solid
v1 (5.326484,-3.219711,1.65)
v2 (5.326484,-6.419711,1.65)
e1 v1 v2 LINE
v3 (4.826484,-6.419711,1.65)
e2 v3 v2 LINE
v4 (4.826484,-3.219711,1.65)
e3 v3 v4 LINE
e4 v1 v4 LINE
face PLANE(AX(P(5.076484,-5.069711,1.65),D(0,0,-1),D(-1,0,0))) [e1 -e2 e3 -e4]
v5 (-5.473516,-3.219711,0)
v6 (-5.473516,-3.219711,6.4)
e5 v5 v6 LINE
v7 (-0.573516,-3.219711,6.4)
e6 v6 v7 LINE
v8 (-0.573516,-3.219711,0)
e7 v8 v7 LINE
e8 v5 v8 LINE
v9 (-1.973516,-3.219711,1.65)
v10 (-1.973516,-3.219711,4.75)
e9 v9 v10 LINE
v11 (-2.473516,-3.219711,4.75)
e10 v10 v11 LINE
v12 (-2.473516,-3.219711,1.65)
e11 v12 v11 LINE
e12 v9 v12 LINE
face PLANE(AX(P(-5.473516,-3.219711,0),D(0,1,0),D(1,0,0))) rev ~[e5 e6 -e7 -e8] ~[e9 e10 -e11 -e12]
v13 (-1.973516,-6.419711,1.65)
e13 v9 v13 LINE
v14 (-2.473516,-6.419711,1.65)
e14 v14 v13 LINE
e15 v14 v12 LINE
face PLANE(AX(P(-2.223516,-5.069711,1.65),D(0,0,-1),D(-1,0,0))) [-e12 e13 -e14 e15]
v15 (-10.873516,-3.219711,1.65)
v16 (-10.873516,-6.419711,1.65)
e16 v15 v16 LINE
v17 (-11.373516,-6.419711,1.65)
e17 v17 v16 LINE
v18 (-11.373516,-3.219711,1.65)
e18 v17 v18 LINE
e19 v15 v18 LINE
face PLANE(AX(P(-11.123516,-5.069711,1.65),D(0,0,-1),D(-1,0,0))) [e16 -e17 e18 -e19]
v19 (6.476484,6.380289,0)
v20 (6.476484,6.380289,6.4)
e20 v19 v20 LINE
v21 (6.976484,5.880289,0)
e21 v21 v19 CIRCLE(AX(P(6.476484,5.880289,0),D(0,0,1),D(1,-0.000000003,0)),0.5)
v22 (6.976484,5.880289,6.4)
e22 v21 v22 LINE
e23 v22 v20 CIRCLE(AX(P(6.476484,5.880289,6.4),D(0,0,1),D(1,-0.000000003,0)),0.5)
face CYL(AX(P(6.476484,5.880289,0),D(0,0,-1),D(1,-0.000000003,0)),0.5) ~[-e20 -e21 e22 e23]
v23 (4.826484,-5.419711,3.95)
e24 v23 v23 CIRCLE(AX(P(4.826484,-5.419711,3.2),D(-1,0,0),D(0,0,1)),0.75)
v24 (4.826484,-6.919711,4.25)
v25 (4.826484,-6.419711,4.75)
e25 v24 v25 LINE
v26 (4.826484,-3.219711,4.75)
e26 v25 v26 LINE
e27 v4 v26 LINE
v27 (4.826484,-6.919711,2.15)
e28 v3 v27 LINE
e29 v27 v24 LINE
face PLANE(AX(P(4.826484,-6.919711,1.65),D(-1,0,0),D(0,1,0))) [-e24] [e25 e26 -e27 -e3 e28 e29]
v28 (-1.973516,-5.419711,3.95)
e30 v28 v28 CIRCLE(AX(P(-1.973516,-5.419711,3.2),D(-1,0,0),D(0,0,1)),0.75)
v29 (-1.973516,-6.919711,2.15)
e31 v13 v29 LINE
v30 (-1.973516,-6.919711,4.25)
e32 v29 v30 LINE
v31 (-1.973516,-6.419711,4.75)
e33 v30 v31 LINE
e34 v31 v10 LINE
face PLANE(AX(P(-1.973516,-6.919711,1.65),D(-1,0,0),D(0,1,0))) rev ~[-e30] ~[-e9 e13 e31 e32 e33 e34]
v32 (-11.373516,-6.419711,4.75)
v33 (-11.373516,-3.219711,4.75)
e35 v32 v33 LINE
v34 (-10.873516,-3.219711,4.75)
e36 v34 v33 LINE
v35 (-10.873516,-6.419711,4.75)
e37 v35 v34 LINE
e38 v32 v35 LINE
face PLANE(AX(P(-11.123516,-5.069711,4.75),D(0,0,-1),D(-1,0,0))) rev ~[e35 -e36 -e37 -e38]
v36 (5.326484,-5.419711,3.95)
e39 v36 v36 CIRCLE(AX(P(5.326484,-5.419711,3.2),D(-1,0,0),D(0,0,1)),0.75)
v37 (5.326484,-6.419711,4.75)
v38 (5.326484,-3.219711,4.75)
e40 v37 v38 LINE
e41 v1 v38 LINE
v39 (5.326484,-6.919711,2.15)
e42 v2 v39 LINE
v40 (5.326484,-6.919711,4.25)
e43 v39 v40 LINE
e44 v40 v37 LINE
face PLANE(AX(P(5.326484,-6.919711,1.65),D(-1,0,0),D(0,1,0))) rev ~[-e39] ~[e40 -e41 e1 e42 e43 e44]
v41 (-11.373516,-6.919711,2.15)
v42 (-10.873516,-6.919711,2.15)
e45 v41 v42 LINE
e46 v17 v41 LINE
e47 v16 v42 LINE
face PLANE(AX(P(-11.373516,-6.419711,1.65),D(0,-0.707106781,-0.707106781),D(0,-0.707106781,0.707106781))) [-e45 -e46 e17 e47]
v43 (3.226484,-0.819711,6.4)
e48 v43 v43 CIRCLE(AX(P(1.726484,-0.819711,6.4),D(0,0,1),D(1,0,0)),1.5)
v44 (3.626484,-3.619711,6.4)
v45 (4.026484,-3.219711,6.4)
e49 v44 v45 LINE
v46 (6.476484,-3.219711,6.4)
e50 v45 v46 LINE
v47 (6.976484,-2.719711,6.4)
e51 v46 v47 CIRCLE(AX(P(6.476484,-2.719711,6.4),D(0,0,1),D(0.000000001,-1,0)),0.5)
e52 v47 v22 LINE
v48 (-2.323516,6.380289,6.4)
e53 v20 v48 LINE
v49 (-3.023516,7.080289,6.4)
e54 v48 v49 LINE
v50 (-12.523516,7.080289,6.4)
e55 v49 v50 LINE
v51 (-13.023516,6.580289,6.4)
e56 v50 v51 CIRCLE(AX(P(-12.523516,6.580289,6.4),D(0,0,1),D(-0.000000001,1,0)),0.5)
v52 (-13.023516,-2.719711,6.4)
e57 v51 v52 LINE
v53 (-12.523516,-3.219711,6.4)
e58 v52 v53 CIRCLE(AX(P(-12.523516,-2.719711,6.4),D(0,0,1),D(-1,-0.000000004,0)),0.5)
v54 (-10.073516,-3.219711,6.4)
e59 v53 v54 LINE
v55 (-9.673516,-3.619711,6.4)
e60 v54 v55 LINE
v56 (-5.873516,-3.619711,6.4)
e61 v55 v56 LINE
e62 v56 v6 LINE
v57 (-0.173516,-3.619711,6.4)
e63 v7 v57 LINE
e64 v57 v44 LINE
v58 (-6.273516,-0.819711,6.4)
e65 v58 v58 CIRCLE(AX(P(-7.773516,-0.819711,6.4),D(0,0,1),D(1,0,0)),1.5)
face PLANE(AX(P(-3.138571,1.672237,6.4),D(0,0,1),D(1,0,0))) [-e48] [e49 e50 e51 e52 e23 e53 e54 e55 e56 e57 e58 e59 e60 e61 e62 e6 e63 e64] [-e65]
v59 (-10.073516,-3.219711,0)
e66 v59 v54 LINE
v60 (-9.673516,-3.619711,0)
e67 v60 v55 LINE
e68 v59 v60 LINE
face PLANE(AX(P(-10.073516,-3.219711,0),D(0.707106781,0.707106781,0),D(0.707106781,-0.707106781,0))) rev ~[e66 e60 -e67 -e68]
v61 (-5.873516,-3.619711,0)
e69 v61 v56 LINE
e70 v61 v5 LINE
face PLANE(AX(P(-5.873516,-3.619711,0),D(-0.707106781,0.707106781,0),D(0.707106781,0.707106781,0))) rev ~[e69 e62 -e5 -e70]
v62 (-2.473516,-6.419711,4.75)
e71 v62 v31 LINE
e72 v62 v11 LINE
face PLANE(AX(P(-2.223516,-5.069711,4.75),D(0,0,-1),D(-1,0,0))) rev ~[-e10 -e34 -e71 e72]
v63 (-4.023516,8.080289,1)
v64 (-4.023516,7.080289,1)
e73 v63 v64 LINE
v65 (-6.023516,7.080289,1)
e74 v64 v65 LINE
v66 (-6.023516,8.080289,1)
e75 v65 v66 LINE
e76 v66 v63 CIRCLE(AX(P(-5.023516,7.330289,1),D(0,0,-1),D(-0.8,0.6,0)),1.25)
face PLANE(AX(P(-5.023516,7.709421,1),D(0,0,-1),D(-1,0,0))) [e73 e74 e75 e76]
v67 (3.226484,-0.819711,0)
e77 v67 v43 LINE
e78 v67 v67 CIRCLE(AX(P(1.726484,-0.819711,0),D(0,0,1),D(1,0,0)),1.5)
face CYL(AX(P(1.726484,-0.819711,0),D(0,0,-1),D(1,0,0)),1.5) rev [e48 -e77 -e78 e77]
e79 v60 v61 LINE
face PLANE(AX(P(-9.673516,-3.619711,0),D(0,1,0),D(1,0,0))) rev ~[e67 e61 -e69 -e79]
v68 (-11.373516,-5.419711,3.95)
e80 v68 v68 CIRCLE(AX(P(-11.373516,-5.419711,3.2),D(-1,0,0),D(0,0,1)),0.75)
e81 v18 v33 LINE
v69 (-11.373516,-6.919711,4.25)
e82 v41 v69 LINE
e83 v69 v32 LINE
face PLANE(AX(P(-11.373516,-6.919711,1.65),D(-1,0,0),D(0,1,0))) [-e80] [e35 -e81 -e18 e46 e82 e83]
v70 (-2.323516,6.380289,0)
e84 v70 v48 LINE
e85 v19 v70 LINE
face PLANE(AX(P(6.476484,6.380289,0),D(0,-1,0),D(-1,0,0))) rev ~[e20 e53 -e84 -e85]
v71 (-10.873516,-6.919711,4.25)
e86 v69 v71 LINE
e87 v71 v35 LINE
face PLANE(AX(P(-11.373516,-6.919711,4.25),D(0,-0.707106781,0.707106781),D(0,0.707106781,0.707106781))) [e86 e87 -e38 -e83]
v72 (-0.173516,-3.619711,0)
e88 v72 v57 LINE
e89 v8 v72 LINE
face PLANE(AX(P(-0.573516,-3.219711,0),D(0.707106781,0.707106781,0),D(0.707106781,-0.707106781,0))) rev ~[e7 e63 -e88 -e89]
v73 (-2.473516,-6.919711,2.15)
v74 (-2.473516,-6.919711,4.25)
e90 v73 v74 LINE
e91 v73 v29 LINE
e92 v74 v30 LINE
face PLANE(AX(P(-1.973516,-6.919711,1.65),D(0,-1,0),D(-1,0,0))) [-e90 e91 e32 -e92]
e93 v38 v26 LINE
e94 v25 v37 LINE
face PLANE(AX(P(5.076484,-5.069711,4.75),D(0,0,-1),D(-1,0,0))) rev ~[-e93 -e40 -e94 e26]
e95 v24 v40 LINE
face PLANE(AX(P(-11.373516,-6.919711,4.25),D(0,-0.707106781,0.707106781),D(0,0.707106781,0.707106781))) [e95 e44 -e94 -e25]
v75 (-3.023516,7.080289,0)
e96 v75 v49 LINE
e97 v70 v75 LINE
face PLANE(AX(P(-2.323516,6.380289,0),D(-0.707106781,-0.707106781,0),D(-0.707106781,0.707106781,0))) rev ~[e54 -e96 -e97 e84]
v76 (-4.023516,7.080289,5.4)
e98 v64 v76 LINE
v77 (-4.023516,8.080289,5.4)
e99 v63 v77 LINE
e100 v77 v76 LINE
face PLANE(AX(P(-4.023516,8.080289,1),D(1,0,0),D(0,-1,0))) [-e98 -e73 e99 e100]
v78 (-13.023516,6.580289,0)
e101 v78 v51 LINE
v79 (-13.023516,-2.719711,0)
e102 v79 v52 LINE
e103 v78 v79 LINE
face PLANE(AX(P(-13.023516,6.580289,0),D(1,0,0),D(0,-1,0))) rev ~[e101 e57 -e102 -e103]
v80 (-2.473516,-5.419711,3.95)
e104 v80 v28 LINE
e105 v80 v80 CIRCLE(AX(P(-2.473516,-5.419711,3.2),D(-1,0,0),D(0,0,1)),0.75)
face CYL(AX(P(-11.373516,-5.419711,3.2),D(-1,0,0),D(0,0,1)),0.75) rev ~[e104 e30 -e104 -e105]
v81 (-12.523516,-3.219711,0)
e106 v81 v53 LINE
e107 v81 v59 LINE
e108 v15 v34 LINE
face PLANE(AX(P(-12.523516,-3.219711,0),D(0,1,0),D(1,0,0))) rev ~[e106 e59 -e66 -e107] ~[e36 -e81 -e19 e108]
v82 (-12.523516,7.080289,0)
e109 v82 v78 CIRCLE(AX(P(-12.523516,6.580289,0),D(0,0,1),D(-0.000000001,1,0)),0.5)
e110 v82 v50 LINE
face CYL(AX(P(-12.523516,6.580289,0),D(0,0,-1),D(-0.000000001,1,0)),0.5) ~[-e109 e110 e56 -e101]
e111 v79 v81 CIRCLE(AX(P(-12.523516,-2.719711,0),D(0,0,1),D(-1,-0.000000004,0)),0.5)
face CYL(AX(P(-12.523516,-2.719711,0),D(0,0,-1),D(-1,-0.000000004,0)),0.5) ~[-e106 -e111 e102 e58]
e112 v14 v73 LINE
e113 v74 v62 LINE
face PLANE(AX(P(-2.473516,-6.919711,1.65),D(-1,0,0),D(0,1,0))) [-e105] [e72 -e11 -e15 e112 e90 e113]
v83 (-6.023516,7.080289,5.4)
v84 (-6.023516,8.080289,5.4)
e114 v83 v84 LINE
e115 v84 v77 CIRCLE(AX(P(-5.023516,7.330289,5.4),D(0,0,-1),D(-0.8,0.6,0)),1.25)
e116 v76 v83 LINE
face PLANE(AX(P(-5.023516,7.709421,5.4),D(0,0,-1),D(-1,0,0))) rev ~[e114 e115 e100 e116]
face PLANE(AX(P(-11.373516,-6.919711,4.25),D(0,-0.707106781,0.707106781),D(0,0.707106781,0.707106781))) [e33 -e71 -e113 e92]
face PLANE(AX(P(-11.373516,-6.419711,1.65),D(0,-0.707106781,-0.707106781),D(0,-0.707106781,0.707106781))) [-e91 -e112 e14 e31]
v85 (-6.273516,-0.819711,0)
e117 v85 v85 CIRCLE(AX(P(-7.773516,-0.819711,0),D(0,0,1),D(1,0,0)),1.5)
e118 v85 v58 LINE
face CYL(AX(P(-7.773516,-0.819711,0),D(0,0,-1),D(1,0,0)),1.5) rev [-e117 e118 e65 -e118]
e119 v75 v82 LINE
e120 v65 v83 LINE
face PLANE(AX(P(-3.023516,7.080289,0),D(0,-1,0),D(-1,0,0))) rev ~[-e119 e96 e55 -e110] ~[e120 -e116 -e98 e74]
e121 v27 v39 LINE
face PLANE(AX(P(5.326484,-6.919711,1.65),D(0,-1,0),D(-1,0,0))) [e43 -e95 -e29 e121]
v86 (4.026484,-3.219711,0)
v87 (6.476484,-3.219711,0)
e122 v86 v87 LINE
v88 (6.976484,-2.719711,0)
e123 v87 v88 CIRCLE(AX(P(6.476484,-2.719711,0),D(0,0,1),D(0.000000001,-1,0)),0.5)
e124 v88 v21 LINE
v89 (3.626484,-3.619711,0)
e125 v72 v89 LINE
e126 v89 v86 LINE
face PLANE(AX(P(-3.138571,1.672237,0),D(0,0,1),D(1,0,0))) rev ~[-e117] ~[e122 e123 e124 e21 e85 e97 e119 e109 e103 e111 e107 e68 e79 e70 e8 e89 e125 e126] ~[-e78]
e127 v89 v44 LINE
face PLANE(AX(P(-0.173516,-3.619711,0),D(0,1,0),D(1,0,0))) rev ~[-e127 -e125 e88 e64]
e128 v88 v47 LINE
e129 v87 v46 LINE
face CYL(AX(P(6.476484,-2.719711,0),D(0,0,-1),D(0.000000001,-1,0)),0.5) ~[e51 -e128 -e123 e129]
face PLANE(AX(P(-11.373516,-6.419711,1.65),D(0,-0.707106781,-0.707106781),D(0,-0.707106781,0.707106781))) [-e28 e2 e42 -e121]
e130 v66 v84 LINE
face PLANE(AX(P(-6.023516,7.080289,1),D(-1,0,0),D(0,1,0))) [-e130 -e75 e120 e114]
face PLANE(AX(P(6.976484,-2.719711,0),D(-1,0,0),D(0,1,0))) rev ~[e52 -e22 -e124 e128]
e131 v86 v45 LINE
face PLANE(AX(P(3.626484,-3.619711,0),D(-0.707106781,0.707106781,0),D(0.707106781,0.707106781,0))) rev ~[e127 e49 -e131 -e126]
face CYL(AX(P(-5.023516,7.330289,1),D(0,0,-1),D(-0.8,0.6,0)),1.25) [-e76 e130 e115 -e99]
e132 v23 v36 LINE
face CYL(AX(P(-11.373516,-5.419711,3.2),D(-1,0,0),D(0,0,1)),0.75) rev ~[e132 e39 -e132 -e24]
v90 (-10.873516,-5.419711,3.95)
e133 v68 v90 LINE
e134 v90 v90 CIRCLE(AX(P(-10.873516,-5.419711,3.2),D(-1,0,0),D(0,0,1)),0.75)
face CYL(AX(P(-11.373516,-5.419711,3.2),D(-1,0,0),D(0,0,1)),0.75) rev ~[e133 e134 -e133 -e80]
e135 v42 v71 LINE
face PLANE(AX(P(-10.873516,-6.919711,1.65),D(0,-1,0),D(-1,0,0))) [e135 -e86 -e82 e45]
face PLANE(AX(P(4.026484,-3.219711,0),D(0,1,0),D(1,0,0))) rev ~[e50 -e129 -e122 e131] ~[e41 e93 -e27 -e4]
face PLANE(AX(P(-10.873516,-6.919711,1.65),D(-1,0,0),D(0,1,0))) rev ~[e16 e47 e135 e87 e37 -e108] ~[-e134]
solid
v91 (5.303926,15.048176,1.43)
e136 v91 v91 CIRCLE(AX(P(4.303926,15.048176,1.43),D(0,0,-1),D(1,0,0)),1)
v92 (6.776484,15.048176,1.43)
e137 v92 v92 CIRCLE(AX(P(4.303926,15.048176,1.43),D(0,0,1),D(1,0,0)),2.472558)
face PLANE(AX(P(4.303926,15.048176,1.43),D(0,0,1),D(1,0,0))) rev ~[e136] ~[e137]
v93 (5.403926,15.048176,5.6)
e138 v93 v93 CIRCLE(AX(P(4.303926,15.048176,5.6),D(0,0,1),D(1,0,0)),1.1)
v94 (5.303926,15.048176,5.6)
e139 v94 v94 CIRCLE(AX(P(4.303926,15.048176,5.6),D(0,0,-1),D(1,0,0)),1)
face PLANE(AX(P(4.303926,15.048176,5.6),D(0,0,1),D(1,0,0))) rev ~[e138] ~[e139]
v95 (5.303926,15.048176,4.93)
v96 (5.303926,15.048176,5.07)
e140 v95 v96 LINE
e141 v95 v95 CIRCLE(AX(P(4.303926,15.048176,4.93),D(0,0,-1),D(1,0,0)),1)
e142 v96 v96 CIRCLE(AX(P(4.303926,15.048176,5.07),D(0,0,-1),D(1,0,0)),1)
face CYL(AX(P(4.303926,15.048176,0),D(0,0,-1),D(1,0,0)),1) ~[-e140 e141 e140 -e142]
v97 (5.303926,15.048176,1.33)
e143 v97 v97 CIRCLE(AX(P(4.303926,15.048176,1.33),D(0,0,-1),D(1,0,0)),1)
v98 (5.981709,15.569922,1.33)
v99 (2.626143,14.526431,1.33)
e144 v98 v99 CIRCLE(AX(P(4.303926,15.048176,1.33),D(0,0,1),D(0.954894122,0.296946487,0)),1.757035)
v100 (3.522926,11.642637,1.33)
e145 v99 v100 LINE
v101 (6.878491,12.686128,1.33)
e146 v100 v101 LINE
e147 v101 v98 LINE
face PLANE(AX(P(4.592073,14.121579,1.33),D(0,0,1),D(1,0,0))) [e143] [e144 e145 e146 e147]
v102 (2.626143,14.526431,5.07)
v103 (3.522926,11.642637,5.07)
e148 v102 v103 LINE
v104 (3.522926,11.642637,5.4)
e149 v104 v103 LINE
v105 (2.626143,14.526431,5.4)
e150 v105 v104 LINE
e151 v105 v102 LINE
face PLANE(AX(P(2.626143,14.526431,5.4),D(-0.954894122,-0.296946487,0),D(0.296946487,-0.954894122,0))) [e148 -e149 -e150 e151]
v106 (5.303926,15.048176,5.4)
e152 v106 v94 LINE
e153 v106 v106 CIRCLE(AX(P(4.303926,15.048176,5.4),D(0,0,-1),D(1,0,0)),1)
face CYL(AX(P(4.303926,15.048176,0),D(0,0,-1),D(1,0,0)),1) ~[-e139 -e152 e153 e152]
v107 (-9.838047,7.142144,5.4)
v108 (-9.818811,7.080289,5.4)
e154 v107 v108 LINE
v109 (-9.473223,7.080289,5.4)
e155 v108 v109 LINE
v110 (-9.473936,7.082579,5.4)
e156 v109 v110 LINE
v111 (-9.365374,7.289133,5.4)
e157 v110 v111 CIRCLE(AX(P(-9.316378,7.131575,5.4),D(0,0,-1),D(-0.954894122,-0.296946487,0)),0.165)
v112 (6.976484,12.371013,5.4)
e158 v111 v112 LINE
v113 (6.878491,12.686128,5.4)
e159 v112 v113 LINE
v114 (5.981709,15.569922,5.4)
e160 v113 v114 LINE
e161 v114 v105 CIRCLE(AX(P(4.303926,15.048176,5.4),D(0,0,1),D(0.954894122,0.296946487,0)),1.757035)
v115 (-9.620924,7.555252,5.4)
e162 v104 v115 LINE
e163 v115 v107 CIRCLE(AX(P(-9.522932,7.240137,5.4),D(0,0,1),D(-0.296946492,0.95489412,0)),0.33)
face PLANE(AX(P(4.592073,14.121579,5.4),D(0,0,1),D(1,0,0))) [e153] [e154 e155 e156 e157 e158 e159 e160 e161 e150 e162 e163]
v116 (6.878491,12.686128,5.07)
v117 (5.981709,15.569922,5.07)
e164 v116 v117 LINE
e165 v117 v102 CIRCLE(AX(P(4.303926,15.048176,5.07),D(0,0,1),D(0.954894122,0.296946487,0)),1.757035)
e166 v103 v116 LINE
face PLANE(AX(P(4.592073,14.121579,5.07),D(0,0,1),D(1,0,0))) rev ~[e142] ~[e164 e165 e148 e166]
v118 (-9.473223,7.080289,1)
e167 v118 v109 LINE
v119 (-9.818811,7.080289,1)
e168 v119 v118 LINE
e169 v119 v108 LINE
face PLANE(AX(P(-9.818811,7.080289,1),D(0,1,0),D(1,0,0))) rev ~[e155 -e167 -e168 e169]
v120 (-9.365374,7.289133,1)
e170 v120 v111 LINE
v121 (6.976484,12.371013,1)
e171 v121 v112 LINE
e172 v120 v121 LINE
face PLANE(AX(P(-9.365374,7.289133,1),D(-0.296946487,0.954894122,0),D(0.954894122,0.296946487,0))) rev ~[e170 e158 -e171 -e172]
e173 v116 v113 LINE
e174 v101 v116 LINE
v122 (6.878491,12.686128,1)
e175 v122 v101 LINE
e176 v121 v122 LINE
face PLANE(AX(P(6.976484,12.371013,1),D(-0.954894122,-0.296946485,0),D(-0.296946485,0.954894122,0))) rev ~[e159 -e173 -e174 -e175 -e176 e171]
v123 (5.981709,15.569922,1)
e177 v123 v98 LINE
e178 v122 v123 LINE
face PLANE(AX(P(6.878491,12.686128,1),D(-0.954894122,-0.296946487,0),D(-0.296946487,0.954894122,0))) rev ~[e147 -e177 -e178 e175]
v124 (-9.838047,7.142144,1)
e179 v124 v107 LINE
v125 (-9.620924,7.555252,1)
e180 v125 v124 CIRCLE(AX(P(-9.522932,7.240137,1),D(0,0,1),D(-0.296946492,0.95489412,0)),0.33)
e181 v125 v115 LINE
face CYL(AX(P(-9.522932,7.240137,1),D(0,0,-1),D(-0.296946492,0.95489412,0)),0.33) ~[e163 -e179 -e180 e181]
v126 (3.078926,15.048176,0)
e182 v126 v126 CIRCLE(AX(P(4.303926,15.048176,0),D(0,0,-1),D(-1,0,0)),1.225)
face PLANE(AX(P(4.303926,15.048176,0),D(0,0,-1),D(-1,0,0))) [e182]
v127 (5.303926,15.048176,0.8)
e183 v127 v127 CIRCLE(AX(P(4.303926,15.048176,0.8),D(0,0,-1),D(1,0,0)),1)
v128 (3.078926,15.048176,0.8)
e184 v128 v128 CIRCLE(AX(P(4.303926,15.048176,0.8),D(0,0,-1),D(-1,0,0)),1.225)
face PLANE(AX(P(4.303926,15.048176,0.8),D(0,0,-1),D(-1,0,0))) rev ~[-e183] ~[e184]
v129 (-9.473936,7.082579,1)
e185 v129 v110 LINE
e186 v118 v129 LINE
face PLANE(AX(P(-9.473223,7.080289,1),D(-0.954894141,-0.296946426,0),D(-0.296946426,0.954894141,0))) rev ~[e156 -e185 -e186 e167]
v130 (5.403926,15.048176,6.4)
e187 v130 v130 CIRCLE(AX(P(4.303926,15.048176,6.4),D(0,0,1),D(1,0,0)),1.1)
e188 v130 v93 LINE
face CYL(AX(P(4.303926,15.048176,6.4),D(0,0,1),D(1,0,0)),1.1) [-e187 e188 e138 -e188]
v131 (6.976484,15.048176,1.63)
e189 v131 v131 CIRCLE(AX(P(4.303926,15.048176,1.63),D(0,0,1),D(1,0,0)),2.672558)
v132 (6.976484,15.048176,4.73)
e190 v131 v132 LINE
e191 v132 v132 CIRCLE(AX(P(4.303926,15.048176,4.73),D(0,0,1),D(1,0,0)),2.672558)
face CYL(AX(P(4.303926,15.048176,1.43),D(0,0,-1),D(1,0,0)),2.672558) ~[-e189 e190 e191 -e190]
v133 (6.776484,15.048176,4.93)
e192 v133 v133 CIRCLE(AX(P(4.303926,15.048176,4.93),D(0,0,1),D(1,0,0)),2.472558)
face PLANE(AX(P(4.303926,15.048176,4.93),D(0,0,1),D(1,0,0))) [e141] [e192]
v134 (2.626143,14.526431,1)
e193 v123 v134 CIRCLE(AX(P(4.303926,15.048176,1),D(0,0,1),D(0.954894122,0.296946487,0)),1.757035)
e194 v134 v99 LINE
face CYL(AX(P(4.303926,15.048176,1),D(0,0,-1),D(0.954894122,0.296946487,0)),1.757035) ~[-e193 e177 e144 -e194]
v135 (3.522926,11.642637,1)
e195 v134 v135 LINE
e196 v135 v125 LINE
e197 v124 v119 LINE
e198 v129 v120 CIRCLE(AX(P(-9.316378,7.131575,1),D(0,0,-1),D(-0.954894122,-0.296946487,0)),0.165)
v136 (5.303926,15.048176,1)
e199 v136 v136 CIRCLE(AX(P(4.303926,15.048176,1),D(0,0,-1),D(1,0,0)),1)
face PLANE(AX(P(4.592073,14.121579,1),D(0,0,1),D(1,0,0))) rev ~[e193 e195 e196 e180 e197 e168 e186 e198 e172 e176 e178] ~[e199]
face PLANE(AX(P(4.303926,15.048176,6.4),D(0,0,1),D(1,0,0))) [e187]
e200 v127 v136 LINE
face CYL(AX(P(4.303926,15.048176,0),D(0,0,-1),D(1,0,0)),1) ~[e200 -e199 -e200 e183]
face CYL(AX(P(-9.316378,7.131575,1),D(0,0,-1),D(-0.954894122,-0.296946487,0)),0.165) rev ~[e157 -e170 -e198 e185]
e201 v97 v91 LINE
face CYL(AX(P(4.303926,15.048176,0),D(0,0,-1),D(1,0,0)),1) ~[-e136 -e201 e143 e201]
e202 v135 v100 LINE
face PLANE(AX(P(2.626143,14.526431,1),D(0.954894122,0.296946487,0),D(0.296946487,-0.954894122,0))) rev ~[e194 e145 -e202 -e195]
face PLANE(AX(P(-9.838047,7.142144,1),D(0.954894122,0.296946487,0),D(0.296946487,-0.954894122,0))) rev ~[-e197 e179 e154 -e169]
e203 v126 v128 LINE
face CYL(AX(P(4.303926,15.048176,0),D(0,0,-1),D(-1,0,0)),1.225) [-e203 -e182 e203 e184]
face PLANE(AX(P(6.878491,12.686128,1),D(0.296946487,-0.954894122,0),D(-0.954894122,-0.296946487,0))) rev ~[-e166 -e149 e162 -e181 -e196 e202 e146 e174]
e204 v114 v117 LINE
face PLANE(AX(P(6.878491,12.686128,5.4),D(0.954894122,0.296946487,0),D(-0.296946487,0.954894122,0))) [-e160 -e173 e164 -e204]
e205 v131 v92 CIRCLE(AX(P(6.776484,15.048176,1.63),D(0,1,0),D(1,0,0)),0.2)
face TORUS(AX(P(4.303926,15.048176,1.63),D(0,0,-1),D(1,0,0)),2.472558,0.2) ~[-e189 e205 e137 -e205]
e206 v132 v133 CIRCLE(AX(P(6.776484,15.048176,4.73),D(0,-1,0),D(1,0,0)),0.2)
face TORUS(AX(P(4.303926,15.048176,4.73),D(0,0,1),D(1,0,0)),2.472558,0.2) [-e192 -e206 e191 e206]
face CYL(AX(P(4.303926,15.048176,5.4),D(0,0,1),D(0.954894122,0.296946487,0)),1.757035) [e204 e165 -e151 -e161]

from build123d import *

# Parameters (mm, degrees)
ESBO_O2_R                 = 1.5
RESSALTO_EXTRUS_O1_DEPTH  = 6.4
RESSALTO_EXTRUS_O2_DEPTH  = 4.4
ESBO_O4_W                 = 0.5
ESBO_O4_H                 = 3.7
RESSALTO_EXTRUS_O4_DEPTH  = 3.1
ESBO_O6_R                 = 0.75
CORTE_EXTRUS_O1_DEPTH     = 23.1
RESSALTO_EXTRUS_O15_DEPTH = 4.4
RESSALTO_EXTRUS_O16_DEPTH = 0.33
RESSALTO_EXTRUS_O17_DEPTH = 0.33
RESSALTO_EXTRUS_O18_START = -6.4
ESBO_O10_R                = 1
RESSALTO_EXTRUS_O18_DEPTH = 6.4
ESBO_O11_R                = 1.225
RESSALTO_EXTRUS_O19_DEPTH = 0.8
ESBO_O12_R                = 1.1
RESSALTO_EXTRUS_O20_DEPTH = 0.8
ESBO_O13_R                = 2.672557582
RESSALTO_EXTRUS_O21_DEPTH = 3.5
FILETE1_R                 = 0.2


with BuildPart() as part:
    # Esboço2 → Ressalto-extrusão1 (new body)
    with BuildSketch(Plane.XY):
        with BuildLine():
            Line((4.026483681, -3.219711224), (6.476483681, -3.219711224))
            ThreePointArc((6.476483681, -3.219711224), (6.830037072, -3.073264614), (6.976483681, -2.719711224))
            Line((6.976483681, -2.719711224), (6.976483681, 5.880288776))
            ThreePointArc((6.976483681, 5.880288776), (6.830037072, 6.233842167), (6.476483681, 6.380288776))
            Line((6.476483681, 6.380288776), (-2.323516319, 6.380288776))
            Line((-2.323516319, 6.380288776), (-3.023516319, 7.080288776))
            Line((-3.023516319, 7.080288776), (-12.523516319, 7.080288776))
            ThreePointArc((-12.523516319, 7.080288776), (-12.877069709, 6.933842167), (-13.023516319, 6.580288776))
            Line((-13.023516319, 6.580288776), (-13.023516319, -2.719711224))
            ThreePointArc((-13.023516319, -2.719711224), (-12.877069709, -3.073264614), (-12.523516319, -3.219711224))
            Line((-12.523516319, -3.219711224), (-10.073516319, -3.219711224))
            Line((-10.073516319, -3.219711224), (-9.673516319, -3.619711224))
            Line((-9.673516319, -3.619711224), (-5.873516319, -3.619711224))
            Line((-5.873516319, -3.619711224), (-5.473516319, -3.219711224))
            Line((-5.473516319, -3.219711224), (-0.573516319, -3.219711224))
            Line((-0.573516319, -3.219711224), (-0.173516319, -3.619711224))
            Line((-0.173516319, -3.619711224), (3.626483681, -3.619711224))
            Line((3.626483681, -3.619711224), (4.026483681, -3.219711224))
        make_face()
        with Locations((1.726483681, -0.819711224)):
            Circle(ESBO_O2_R, mode=Mode.SUBTRACT)
        with Locations((-7.773516319, -0.819711224)):
            Circle(ESBO_O2_R, mode=Mode.SUBTRACT)
    extrude(amount=RESSALTO_EXTRUS_O1_DEPTH)

    # Esboço3 → Ressalto-extrusão2 (add)
    with BuildSketch(Plane(origin=(0, 0, 1), x_dir=(-1, 0, 0), z_dir=(0, 0, -1))):
        with BuildLine():
            Line((4.023516319, 7.080288776), (6.023516319, 7.080288776))
            Line((6.023516319, 7.080288776), (6.023516319, 8.080288776))
            ThreePointArc((6.023516319, 8.080288776), (5.023516319, 8.580288776), (4.023516319, 8.080288776))
            Line((4.023516319, 8.080288776), (4.023516319, 7.080288776))
        make_face()
    extrude(amount=-RESSALTO_EXTRUS_O2_DEPTH)

    # Esboço4 → Ressalto-extrusão4 (add)
    with BuildSketch(Plane(origin=(0, 0, 1.65), x_dir=(-1, 0, 0), z_dir=(0, 0, -1))):
        with Locations((11.123516319, -5.069711224)):
            Rectangle(ESBO_O4_W, ESBO_O4_H)
        with Locations((2.223516319, -5.069711224)):
            Rectangle(ESBO_O4_W, ESBO_O4_H)
        with Locations((-5.076483681, -5.069711224)):
            Rectangle(ESBO_O4_W, ESBO_O4_H)
    extrude(amount=-RESSALTO_EXTRUS_O4_DEPTH)

    # Esboço6 → Corte-extrusão1 (cut)
    with BuildSketch(Plane.ZY.offset(11.373516319)):
        with Locations((3.2, -5.419711224)):
            Circle(ESBO_O6_R)
        Polygon((1.65, -6.419711224), (2.15, -6.919711224), (4.25, -6.919711224), (4.75, -6.419711224), (4.75, -4.307213544), (5.418573978, -4.307213544), (5.418573978, -7.77930336), (0.93735461, -7.77930336), (0.93735461, -4.307213544), (1.65, -4.307213544), align=None)
    extrude(amount=-CORTE_EXTRUS_O1_DEPTH, mode=Mode.SUBTRACT)


with BuildPart() as body_2:
    # Esboço7 → Ressalto-extrusão15 (new body)
    with BuildSketch(Plane(origin=(0, 0, 1), x_dir=(-1, 0, 0), z_dir=(0, 0, -1))):
        with BuildLine():
            Line((9.365374351, 7.289132915), (-6.976483681, 12.37101291))
            Line((-6.976483681, 12.37101291), (-6.878491341, 12.68612797))
            Line((-6.878491341, 12.68612797), (9.620924222, 7.555251805))
            ThreePointArc((9.620924222, 7.555251805), (9.815042925, 7.393665692), (9.838046941, 7.142144404))
            Line((9.838046941, 7.142144404), (9.818811498, 7.080288776))
            Line((9.818811498, 7.080288776), (9.473223446, 7.080288776))
            Line((9.473223446, 7.080288776), (9.473935711, 7.082579215))
            ThreePointArc((9.473935711, 7.082579215), (9.462433703, 7.208339859), (9.365374351, 7.289132915))
        make_face()
    extrude(amount=-RESSALTO_EXTRUS_O15_DEPTH)

    # Esboço8 → Ressalto-extrusão16 (add)
    with BuildSketch(Plane(origin=(0, 0, 1), x_dir=(-1, 0, 0), z_dir=(0, 0, -1))):
        with BuildLine():
            Line((-3.522926038, 11.642637068), (-6.878491341, 12.68612797))
            Line((-6.878491341, 12.68612797), (-5.981708751, 15.569921721))
            ThreePointArc((-5.981708751, 15.569921721), (-3.782180648, 16.725958922), (-2.626143448, 14.526430819))
            Line((-2.626143448, 14.526430819), (-3.522926038, 11.642637068))
        make_face()
    extrude(amount=-RESSALTO_EXTRUS_O16_DEPTH)

    # Esboço9 → Ressalto-extrusão17 (add)
    with BuildSketch(Plane.XY.offset(5.4)):
        with BuildLine():
            Line((6.878491341, 12.68612797), (5.981708751, 15.569921721))
            ThreePointArc((5.981708751, 15.569921721), (3.782180648, 16.725958922), (2.626143448, 14.526430819))
            Line((2.626143448, 14.526430819), (3.522926038, 11.642637068))
            Line((3.522926038, 11.642637068), (6.878491341, 12.68612797))
        make_face()
    extrude(amount=-RESSALTO_EXTRUS_O17_DEPTH)

    # Esboço10 → Ressalto-extrusão18 (add)
    with BuildSketch(Plane.XY.offset(6.4).offset(RESSALTO_EXTRUS_O18_START)):
        with Locations((4.303926099, 15.04817627)):
            Circle(ESBO_O10_R)
    extrude(amount=RESSALTO_EXTRUS_O18_DEPTH)

    # Esboço11 → Ressalto-extrusão19 (add)
    with BuildSketch(Plane(origin=(0, 0, 0), x_dir=(-1, 0, 0), z_dir=(0, 0, -1))):
        with Locations((-4.303926099, 15.04817627)):
            Circle(ESBO_O11_R)
    extrude(amount=-RESSALTO_EXTRUS_O19_DEPTH)

    # Esboço12 → Ressalto-extrusão20 (add)
    with BuildSketch(Plane.XY.offset(6.4)):
        with Locations((4.303926099, 15.04817627)):
            Circle(ESBO_O12_R)
    extrude(amount=-RESSALTO_EXTRUS_O20_DEPTH)

    # Esboço13 → Ressalto-extrusão21 (add)
    with BuildSketch(Plane.XY.offset(1.43)):
        with Locations((4.303926099, 15.04817627)):
            Circle(ESBO_O13_R)
    extrude(amount=RESSALTO_EXTRUS_O21_DEPTH)

    # Filete1
    filete1_edges = [body_2.edges().sort_by_distance(p)[0] for p in [
        (1.631368517, 15.04817627, 1.43),
        (1.631368517, 15.04817627, 4.93),
    ]]
    fillet(filete1_edges, radius=FILETE1_R)


solid = Compound([part.part, body_2.part])
